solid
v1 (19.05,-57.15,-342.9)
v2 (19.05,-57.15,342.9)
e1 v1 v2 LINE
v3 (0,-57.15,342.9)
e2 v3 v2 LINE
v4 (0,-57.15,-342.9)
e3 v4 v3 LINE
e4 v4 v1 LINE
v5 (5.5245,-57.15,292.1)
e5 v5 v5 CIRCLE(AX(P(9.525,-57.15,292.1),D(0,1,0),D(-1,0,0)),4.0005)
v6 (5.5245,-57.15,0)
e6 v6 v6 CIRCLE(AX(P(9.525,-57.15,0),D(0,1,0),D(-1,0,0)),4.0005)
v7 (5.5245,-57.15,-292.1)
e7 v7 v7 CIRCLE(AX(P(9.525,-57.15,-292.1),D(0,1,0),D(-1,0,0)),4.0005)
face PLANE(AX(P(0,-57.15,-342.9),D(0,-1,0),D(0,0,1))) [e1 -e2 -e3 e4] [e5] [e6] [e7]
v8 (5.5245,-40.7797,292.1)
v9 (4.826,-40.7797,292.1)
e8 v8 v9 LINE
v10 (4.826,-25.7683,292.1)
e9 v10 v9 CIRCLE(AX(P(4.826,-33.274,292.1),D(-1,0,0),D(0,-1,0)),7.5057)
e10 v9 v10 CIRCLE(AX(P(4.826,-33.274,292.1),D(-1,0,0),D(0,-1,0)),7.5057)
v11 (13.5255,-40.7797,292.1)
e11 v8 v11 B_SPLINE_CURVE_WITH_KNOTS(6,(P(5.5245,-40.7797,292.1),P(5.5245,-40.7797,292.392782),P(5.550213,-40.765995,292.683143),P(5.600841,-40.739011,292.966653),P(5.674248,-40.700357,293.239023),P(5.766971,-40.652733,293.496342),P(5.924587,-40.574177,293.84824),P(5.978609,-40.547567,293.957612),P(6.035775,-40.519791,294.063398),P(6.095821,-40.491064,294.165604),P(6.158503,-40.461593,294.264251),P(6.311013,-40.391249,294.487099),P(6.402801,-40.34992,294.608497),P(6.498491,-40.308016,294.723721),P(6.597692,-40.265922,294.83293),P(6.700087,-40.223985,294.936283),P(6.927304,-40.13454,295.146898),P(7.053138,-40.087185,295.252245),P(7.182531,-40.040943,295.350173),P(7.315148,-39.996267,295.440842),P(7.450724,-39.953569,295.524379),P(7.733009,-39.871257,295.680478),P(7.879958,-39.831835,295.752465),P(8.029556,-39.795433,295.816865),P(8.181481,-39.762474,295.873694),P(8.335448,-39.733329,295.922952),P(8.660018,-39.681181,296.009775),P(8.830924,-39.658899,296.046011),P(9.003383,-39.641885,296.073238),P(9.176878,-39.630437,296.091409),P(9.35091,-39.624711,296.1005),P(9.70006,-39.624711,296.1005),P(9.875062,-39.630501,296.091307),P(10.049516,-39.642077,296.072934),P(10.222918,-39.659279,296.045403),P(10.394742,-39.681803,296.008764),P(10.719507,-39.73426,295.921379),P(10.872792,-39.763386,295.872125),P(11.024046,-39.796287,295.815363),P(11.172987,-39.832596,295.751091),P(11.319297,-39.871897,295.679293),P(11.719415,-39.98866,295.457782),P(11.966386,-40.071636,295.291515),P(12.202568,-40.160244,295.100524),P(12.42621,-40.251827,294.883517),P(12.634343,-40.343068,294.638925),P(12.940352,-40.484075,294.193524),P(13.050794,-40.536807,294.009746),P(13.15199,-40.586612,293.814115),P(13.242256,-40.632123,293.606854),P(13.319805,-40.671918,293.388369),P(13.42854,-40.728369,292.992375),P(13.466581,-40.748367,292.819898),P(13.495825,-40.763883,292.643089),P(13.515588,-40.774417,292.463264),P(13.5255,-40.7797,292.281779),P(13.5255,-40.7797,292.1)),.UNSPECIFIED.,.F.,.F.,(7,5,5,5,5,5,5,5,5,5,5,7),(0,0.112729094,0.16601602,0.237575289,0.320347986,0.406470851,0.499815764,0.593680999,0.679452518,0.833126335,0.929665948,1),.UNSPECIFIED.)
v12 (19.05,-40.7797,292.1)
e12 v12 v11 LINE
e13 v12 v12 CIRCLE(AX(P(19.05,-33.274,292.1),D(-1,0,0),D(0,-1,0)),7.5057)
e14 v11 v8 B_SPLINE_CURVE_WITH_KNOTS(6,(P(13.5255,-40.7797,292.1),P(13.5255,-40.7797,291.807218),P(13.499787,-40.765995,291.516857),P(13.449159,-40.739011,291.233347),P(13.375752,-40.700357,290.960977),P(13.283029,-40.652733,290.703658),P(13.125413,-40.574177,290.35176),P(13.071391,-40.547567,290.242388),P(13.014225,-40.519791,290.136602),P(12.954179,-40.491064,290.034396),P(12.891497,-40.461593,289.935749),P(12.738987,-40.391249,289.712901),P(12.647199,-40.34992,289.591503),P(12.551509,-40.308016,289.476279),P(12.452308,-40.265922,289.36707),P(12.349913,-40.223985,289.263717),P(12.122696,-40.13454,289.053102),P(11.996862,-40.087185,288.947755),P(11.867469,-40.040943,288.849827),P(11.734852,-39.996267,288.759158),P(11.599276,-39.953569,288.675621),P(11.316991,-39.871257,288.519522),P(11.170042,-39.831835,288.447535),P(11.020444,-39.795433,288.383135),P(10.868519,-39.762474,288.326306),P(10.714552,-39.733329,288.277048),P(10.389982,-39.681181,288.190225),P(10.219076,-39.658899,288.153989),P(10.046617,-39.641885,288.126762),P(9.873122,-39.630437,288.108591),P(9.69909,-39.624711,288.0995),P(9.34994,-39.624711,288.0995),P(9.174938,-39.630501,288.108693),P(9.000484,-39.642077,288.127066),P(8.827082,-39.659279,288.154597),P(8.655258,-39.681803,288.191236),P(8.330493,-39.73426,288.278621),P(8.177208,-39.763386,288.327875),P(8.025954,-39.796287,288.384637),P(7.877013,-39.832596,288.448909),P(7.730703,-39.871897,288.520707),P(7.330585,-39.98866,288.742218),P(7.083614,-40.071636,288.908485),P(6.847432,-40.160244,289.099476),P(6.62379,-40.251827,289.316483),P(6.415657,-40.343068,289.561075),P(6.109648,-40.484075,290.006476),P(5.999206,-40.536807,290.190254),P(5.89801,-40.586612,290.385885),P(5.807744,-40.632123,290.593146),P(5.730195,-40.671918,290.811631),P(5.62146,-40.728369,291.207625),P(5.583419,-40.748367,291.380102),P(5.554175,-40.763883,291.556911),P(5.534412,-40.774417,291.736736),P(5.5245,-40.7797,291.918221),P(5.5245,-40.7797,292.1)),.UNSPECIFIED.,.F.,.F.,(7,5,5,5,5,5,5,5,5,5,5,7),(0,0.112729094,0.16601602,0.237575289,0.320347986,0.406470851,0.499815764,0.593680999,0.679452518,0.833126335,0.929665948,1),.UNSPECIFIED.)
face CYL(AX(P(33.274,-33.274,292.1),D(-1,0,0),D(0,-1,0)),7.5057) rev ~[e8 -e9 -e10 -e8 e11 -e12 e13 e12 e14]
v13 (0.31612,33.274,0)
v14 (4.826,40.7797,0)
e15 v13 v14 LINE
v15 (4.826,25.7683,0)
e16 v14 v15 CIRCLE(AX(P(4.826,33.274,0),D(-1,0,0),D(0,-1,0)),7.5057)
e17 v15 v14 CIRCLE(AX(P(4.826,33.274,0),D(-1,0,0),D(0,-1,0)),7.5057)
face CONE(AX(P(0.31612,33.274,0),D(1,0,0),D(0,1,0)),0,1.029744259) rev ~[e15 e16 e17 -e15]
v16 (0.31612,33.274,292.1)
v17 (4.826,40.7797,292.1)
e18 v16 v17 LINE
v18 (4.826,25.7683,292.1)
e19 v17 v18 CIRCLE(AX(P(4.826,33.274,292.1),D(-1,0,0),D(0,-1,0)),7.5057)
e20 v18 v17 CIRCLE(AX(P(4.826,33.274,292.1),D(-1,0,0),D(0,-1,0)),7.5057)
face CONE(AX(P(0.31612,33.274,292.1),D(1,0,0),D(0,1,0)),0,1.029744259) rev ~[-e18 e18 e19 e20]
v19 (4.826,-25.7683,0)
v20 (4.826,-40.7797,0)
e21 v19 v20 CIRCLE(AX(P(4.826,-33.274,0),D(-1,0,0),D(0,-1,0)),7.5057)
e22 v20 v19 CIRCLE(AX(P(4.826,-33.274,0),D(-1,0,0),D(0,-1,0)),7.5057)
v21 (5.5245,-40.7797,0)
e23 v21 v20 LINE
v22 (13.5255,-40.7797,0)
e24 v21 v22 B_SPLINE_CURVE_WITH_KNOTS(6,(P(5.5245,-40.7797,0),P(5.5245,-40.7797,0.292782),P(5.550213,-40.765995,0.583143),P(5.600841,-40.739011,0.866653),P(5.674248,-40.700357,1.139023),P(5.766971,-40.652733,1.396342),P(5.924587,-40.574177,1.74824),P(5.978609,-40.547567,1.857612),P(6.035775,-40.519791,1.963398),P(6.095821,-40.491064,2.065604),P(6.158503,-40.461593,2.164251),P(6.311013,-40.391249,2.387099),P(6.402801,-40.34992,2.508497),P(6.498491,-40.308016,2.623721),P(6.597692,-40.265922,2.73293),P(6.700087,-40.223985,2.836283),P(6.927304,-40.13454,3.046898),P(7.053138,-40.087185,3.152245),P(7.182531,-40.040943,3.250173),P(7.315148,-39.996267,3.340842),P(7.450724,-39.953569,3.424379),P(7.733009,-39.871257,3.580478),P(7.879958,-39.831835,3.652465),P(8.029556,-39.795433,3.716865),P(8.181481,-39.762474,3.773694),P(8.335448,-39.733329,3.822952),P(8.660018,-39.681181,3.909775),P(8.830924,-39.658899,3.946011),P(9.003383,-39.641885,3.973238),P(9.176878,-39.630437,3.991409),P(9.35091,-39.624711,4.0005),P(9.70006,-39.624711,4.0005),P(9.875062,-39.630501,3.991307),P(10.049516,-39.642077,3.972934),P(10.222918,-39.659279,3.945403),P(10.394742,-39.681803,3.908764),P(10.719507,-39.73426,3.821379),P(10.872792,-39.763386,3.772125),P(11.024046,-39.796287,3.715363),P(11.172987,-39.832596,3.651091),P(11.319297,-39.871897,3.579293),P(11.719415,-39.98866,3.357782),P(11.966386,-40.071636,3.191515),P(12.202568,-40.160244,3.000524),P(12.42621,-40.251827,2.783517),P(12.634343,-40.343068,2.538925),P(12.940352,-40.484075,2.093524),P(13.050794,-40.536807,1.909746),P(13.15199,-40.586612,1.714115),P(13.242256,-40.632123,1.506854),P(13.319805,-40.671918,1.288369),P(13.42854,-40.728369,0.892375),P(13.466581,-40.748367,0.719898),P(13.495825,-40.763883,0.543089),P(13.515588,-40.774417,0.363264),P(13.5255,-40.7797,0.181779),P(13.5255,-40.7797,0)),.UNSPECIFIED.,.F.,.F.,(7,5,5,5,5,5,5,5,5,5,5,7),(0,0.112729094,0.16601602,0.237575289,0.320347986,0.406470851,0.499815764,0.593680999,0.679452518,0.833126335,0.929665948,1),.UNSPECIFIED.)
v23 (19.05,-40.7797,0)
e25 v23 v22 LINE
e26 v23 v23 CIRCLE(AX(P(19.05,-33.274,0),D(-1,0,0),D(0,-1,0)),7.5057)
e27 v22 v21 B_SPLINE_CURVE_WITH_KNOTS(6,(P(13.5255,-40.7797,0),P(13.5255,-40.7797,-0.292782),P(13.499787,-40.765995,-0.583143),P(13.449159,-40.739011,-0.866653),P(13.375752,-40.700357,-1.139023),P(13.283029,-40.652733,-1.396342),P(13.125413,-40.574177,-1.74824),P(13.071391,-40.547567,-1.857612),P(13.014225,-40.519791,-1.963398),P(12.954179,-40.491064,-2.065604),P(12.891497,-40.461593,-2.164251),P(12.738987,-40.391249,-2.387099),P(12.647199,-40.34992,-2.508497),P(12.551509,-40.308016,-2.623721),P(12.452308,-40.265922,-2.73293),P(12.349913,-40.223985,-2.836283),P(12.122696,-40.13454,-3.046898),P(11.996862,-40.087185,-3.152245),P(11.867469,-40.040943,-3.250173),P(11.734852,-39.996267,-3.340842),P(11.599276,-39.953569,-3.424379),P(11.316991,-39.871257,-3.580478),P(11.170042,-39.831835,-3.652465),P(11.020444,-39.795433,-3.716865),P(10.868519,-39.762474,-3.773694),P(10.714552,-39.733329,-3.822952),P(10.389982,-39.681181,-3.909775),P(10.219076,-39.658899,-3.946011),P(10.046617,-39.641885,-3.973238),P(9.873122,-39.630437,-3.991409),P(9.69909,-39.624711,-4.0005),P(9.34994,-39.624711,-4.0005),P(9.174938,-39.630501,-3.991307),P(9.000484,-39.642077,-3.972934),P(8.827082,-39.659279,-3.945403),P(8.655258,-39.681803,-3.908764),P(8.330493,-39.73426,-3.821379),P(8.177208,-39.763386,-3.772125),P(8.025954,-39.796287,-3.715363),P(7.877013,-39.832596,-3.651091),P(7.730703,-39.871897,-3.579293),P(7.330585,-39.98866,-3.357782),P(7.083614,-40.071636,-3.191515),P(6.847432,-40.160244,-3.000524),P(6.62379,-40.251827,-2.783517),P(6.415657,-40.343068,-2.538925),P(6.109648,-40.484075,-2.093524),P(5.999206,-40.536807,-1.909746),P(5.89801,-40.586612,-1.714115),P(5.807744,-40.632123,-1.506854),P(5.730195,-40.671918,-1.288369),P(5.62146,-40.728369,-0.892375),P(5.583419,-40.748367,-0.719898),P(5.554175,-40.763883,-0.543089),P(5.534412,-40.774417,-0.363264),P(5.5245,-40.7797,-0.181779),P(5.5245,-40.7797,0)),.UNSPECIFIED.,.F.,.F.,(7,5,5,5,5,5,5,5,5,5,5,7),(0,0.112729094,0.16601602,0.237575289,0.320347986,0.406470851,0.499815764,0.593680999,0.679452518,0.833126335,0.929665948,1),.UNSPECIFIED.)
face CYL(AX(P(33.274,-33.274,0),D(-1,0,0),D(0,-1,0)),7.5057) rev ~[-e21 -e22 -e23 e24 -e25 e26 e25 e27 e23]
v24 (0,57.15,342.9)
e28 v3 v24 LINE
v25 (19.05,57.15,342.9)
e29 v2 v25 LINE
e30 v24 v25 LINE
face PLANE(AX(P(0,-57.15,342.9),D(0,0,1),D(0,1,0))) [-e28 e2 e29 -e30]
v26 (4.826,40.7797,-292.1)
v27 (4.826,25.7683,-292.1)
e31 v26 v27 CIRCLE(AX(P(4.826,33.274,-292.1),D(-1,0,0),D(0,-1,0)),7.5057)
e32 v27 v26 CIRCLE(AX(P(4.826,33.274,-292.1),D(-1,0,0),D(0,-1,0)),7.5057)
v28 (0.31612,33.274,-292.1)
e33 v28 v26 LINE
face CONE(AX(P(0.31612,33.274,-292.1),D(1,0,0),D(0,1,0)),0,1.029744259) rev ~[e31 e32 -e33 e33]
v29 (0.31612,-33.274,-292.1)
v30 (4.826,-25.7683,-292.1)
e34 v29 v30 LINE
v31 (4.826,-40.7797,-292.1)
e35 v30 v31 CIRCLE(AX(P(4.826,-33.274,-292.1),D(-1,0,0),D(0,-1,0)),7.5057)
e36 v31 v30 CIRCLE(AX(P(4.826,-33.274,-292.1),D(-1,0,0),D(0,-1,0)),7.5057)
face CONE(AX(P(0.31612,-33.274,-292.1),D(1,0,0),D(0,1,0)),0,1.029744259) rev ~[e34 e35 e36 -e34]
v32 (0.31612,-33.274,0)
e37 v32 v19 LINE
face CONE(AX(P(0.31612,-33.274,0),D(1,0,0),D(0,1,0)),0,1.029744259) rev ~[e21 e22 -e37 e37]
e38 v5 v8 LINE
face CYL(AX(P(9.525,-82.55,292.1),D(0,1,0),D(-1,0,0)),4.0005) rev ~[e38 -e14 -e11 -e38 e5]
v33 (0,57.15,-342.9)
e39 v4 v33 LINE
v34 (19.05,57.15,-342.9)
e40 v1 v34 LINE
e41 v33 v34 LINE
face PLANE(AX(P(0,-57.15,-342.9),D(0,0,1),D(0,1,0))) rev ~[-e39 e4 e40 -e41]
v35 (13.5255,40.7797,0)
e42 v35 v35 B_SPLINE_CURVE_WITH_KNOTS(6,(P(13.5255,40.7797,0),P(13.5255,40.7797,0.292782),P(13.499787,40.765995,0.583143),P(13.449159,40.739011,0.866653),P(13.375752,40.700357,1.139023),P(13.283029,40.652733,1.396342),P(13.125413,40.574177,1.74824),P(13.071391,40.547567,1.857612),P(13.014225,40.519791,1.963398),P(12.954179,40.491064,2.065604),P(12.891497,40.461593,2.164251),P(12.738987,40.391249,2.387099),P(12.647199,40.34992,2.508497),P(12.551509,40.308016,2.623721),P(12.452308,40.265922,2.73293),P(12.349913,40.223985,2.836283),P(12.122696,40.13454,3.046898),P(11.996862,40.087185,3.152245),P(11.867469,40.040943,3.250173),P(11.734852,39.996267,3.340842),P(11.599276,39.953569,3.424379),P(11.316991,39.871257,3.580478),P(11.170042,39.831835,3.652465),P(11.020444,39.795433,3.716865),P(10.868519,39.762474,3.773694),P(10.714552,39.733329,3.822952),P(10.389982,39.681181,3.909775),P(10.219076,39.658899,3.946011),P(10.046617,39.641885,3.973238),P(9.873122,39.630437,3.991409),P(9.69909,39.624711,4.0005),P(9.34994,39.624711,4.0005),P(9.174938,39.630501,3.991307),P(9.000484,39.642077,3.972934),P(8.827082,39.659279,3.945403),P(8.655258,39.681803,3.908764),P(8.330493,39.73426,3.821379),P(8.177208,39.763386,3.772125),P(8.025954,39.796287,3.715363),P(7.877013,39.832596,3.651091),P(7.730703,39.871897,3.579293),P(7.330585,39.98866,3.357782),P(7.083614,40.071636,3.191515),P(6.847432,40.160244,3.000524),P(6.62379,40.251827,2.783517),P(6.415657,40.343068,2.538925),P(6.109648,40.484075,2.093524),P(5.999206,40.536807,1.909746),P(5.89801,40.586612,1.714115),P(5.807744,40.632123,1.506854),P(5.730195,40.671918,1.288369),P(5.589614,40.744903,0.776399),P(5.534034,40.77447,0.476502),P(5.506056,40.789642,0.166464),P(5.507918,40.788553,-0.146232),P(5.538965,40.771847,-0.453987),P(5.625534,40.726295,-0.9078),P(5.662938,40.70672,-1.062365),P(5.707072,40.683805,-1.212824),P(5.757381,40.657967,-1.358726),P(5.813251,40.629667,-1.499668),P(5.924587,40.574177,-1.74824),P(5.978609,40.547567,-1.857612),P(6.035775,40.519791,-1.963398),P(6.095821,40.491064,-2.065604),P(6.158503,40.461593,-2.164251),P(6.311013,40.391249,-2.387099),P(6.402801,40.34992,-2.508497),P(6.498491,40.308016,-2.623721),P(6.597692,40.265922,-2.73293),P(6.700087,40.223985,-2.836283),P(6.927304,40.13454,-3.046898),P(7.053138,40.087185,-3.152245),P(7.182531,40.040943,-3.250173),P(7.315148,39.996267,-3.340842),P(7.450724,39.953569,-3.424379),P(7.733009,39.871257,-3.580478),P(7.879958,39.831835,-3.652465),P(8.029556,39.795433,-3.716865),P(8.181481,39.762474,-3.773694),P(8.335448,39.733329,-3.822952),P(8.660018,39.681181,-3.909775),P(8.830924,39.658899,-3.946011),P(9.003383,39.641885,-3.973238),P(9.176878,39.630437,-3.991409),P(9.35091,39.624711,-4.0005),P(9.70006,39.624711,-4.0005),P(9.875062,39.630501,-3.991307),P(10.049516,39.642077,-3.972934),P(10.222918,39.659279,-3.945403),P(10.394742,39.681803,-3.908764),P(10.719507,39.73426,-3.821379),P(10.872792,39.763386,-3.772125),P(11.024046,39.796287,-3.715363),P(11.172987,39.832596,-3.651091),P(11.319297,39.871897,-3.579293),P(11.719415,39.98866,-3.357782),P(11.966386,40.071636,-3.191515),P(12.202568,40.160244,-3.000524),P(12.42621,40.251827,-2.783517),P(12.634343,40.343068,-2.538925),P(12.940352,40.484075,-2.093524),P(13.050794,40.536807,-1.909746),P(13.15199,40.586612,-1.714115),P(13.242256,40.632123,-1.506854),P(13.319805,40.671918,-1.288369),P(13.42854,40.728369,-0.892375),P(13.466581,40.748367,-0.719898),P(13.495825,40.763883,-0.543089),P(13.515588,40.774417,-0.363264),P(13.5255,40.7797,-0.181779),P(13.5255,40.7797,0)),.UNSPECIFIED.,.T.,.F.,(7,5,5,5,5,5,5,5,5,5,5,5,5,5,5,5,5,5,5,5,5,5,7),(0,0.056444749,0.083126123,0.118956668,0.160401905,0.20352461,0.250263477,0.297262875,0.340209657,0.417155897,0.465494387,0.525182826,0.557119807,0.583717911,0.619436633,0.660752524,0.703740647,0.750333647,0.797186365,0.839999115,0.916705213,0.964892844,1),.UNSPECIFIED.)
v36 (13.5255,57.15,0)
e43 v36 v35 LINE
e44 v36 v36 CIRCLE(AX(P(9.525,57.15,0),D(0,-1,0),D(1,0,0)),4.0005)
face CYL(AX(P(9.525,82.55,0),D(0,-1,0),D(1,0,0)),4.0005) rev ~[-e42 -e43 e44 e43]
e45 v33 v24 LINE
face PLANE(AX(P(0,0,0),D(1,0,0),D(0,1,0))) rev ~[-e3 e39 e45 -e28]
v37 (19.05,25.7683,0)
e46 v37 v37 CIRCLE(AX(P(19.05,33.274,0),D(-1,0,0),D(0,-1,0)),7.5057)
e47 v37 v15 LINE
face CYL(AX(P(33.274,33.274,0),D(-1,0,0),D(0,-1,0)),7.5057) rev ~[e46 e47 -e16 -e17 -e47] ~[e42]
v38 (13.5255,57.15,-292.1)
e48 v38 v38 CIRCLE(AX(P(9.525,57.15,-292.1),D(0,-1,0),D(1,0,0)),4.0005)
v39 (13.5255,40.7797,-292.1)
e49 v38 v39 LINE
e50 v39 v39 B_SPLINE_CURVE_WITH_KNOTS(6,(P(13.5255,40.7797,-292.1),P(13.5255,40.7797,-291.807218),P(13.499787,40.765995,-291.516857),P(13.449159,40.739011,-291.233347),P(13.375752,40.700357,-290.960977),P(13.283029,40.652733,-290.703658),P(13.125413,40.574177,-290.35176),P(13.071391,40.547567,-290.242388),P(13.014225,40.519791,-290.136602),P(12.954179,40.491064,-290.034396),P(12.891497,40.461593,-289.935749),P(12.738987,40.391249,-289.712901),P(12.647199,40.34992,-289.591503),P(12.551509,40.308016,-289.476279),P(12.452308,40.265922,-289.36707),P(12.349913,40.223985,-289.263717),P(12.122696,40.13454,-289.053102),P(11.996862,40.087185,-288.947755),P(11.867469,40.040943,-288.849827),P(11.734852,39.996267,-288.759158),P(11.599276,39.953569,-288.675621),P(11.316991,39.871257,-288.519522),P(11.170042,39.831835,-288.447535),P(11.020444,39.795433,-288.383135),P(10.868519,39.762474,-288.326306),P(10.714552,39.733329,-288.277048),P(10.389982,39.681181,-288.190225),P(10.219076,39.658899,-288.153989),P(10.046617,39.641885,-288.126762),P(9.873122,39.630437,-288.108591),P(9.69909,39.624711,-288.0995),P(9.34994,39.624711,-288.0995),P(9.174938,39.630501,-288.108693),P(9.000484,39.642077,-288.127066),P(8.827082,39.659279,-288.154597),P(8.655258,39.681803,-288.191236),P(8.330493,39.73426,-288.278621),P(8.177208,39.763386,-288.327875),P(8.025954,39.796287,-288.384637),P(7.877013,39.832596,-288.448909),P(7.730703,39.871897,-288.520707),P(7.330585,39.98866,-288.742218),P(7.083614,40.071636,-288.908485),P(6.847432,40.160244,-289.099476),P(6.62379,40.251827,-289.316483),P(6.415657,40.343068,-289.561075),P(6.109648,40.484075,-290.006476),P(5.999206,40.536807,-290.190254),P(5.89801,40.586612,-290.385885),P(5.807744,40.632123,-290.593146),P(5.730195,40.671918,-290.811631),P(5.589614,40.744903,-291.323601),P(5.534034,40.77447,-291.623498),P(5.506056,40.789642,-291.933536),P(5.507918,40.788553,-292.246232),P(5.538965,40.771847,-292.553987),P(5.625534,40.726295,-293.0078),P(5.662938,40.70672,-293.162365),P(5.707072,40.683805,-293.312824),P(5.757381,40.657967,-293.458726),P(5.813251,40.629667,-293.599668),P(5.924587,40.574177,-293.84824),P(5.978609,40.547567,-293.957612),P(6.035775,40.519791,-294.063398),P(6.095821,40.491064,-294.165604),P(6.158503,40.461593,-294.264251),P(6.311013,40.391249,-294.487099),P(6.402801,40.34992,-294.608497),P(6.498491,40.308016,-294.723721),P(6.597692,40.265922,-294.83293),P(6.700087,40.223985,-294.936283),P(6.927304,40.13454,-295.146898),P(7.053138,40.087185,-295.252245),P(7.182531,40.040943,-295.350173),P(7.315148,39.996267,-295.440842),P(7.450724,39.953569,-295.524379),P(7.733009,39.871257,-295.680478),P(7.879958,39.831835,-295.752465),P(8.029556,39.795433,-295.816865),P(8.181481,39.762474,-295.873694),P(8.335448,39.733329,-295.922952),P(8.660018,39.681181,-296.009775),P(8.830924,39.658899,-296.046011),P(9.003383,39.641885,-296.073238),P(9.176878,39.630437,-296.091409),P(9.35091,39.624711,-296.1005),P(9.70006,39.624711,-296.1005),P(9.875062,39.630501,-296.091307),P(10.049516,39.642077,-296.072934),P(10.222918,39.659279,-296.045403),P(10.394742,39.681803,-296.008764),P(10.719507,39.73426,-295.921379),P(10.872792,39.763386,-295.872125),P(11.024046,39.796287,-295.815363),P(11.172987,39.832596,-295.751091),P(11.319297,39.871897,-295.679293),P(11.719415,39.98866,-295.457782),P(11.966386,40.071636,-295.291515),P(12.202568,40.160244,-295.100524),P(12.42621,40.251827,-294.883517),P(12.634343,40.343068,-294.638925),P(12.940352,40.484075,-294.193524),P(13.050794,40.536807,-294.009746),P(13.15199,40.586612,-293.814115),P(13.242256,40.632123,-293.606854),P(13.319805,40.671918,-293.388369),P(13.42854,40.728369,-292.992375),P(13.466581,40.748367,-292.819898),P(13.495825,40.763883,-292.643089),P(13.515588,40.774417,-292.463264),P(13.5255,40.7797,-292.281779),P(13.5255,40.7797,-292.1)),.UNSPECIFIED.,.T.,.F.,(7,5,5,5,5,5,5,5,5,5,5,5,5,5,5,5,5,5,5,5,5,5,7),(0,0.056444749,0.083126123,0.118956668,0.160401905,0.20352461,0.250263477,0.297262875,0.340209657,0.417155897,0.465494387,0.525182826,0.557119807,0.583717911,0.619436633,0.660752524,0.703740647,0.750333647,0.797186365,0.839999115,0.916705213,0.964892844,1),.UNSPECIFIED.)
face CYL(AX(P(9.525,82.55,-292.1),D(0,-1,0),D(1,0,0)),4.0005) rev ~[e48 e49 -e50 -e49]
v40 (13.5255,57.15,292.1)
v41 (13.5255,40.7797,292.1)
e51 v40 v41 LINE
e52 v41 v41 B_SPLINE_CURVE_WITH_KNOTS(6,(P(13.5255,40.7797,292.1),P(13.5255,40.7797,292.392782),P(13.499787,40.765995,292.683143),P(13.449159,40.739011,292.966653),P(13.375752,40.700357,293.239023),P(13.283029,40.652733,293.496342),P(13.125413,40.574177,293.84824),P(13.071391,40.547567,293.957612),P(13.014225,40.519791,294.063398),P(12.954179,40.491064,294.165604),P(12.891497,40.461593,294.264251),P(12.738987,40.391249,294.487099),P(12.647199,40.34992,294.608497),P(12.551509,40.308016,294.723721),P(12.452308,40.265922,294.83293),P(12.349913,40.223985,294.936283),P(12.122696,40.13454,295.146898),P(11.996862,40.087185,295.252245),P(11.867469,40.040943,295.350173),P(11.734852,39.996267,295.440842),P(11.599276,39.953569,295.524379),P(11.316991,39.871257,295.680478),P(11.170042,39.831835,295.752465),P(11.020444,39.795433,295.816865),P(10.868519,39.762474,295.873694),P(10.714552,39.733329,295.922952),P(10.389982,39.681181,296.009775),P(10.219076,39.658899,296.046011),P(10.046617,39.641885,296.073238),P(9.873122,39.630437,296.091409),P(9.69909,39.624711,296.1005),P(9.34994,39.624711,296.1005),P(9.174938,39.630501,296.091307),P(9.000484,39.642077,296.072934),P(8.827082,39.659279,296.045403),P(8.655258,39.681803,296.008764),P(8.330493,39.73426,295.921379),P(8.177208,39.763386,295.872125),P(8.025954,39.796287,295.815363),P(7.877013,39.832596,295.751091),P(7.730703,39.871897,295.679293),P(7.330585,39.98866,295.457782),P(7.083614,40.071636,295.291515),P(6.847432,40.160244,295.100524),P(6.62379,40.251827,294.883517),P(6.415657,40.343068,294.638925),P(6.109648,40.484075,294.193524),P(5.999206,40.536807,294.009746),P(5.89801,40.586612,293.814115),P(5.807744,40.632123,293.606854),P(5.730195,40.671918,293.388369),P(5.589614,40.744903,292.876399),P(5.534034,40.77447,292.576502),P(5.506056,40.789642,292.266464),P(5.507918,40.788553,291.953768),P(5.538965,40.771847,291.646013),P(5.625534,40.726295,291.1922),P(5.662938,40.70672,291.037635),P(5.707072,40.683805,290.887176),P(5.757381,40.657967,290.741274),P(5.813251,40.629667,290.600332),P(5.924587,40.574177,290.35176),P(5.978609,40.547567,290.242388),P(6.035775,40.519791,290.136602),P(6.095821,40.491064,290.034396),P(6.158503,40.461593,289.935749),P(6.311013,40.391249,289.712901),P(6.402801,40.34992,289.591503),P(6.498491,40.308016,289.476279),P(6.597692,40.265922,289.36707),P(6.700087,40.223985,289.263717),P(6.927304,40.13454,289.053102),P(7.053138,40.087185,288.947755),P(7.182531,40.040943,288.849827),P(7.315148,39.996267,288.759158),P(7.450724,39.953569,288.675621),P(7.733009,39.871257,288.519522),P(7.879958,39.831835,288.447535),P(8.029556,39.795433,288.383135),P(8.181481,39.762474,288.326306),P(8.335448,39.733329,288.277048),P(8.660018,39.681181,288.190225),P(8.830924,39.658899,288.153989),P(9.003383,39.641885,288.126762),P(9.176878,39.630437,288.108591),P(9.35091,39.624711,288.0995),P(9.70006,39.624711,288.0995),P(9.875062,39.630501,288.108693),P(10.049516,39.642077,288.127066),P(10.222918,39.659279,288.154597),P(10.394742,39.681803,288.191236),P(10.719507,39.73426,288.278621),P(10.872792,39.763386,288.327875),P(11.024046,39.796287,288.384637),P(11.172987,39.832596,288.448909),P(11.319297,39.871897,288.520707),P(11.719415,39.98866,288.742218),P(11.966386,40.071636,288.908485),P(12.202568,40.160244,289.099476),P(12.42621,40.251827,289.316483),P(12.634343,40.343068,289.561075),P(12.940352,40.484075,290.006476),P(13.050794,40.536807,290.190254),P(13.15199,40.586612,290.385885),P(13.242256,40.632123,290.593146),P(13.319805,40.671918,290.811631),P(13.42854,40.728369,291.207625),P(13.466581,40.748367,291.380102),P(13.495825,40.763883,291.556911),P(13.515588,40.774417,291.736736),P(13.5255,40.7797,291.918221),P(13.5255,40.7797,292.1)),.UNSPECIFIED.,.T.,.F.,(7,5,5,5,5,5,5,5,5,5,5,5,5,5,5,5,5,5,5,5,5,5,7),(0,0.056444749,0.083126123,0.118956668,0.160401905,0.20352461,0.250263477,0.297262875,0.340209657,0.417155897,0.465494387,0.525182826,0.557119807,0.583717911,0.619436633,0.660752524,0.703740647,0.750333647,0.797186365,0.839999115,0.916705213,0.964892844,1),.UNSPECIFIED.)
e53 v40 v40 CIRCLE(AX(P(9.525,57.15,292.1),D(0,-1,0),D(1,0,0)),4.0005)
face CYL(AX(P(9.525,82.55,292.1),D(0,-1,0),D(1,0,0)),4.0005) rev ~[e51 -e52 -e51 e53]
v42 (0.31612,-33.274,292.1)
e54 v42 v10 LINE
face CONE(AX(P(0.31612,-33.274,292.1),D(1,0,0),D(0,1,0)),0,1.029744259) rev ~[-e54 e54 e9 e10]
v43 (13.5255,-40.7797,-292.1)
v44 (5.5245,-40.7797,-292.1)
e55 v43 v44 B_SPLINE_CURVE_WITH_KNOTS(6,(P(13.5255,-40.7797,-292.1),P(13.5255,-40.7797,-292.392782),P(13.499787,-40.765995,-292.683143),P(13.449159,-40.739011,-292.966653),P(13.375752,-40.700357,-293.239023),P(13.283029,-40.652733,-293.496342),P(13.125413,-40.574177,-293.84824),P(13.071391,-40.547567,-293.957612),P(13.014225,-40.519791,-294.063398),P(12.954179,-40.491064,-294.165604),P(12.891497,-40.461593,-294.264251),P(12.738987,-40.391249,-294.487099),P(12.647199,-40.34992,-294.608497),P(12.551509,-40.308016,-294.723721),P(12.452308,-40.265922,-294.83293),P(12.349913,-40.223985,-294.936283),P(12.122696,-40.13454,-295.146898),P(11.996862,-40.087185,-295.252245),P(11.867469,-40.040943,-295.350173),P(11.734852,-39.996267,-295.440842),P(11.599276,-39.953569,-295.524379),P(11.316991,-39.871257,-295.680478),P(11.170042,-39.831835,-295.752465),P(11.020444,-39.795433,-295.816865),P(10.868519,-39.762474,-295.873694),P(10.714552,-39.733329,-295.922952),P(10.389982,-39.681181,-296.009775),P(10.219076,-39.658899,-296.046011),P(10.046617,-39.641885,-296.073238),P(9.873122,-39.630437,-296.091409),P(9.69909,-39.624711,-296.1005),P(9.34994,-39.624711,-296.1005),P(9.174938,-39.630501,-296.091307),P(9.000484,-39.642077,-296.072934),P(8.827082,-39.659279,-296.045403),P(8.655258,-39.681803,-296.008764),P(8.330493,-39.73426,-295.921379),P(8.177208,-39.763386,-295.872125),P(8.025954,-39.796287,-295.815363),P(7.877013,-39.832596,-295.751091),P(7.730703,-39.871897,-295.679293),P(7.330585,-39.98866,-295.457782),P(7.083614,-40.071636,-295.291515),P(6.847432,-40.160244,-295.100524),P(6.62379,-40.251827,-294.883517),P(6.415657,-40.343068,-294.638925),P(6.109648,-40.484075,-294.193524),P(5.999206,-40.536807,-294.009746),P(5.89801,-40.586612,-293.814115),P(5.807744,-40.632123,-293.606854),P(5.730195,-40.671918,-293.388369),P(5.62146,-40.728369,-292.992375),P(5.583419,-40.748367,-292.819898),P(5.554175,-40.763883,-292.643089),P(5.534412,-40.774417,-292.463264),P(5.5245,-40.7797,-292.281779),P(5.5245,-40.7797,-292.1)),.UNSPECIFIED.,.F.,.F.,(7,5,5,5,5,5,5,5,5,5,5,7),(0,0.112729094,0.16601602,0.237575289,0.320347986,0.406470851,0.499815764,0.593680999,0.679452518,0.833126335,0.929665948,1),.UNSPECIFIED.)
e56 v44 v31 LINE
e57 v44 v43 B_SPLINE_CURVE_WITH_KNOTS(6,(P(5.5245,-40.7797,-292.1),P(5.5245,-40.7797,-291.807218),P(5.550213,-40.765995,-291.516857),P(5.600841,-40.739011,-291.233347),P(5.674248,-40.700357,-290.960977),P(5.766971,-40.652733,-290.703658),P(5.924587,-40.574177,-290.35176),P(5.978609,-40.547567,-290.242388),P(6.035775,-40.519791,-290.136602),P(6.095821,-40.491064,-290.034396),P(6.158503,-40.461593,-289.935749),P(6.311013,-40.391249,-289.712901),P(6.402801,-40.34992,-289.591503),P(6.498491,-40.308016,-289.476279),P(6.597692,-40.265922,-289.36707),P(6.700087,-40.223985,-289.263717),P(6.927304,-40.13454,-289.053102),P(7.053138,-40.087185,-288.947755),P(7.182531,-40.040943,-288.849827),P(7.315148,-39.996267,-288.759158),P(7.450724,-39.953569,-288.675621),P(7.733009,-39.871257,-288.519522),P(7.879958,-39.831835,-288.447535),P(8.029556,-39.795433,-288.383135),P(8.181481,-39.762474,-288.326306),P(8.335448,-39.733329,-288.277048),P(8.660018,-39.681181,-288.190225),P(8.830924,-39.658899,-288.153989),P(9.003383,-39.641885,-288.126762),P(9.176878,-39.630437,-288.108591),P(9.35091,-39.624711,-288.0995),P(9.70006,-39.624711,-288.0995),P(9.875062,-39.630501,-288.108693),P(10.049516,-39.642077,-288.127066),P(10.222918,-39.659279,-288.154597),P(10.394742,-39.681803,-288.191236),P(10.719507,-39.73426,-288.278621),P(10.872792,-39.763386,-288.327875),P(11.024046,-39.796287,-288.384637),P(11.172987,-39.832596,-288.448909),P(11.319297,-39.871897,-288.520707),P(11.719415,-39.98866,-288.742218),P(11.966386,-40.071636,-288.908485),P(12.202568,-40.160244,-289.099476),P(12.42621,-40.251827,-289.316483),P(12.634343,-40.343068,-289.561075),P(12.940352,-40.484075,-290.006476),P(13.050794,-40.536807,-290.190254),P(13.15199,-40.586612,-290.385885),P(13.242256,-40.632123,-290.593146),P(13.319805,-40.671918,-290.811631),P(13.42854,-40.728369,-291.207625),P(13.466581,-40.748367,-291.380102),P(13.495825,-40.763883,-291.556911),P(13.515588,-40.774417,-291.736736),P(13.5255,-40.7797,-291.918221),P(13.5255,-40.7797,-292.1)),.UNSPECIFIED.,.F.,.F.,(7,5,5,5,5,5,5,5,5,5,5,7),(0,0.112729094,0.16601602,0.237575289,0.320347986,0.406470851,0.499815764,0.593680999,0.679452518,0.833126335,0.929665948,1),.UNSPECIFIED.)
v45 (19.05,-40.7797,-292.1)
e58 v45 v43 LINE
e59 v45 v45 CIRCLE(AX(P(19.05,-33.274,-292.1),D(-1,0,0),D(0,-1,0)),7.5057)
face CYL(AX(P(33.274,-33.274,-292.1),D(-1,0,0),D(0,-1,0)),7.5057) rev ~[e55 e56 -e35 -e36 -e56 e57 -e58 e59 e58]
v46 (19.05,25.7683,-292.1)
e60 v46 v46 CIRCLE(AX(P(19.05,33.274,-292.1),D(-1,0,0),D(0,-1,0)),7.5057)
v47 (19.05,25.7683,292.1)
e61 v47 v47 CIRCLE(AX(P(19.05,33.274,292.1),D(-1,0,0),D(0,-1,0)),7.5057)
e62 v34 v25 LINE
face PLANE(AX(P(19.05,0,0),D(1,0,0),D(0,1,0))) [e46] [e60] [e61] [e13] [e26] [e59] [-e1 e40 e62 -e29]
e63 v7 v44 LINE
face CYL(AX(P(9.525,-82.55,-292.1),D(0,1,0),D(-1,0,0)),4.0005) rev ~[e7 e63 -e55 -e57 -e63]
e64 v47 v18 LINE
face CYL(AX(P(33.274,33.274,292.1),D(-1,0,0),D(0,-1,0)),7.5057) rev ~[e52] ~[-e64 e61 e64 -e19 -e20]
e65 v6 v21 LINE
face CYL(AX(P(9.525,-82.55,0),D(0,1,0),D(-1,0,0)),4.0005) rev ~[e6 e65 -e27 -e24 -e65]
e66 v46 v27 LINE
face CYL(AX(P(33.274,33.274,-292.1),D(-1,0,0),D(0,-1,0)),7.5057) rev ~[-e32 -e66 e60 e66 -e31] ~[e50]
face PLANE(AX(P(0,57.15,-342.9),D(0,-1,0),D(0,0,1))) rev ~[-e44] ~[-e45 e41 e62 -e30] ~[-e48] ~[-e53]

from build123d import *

# Parameters (mm, degrees)
F0_W     = 114.3
F0_H     = 685.8
F1_DEPTH = 19.05
F3_D     = 15.0114
F3_DEPTH = 14.224
F3_TIP   = 4.5098795482
F5_D     = 8.001
F5_DEPTH = 25.4
F5_TIP   = 2.4037429064
F7_D     = 8.001
F7_DEPTH = 25.4
F7_TIP   = 2.4037429064


with BuildPart() as f1:
    # F0 (on Right) → F1 (new body)
    with BuildSketch(Plane.YZ):
        Rectangle(F0_W, F0_H)
    extrude(amount=F1_DEPTH)

    # F3
    with Locations(Plane.YZ.offset(19.05)):
        with Locations((-33.274, 292.1), (33.274, 292.1), (-33.274, 0), (33.274, 0), (33.274, -292.1), (-33.274, -292.1)):
            Hole(F3_D / 2, depth=F3_DEPTH)
            with Locations((0, 0, -(F3_DEPTH + F3_TIP / 2))):  # 118° drill point
                Cone(0, F3_D / 2, F3_TIP, mode=Mode.SUBTRACT)

    # F5
    with Locations(Plane(origin=(0, 57.15, 0), x_dir=(-1, 0, 0), z_dir=(0, 1, 0))):
        with Locations((-9.525, -292.1), (-9.525, 292.1), (-9.525, 0)):
            Hole(F5_D / 2, depth=F5_DEPTH)
            with Locations((0, 0, -(F5_DEPTH + F5_TIP / 2))):  # 118° drill point
                Cone(0, F5_D / 2, F5_TIP, mode=Mode.SUBTRACT)

    # F7
    with Locations(Plane.XZ.offset(57.15)):
        with Locations((9.525, 292.1), (9.525, 0), (9.525, -292.1)):
            Hole(F7_D / 2, depth=F7_DEPTH)
            with Locations((0, 0, -(F7_DEPTH + F7_TIP / 2))):  # 118° drill point
                Cone(0, F7_D / 2, F7_TIP, mode=Mode.SUBTRACT)


solid = f1.part
